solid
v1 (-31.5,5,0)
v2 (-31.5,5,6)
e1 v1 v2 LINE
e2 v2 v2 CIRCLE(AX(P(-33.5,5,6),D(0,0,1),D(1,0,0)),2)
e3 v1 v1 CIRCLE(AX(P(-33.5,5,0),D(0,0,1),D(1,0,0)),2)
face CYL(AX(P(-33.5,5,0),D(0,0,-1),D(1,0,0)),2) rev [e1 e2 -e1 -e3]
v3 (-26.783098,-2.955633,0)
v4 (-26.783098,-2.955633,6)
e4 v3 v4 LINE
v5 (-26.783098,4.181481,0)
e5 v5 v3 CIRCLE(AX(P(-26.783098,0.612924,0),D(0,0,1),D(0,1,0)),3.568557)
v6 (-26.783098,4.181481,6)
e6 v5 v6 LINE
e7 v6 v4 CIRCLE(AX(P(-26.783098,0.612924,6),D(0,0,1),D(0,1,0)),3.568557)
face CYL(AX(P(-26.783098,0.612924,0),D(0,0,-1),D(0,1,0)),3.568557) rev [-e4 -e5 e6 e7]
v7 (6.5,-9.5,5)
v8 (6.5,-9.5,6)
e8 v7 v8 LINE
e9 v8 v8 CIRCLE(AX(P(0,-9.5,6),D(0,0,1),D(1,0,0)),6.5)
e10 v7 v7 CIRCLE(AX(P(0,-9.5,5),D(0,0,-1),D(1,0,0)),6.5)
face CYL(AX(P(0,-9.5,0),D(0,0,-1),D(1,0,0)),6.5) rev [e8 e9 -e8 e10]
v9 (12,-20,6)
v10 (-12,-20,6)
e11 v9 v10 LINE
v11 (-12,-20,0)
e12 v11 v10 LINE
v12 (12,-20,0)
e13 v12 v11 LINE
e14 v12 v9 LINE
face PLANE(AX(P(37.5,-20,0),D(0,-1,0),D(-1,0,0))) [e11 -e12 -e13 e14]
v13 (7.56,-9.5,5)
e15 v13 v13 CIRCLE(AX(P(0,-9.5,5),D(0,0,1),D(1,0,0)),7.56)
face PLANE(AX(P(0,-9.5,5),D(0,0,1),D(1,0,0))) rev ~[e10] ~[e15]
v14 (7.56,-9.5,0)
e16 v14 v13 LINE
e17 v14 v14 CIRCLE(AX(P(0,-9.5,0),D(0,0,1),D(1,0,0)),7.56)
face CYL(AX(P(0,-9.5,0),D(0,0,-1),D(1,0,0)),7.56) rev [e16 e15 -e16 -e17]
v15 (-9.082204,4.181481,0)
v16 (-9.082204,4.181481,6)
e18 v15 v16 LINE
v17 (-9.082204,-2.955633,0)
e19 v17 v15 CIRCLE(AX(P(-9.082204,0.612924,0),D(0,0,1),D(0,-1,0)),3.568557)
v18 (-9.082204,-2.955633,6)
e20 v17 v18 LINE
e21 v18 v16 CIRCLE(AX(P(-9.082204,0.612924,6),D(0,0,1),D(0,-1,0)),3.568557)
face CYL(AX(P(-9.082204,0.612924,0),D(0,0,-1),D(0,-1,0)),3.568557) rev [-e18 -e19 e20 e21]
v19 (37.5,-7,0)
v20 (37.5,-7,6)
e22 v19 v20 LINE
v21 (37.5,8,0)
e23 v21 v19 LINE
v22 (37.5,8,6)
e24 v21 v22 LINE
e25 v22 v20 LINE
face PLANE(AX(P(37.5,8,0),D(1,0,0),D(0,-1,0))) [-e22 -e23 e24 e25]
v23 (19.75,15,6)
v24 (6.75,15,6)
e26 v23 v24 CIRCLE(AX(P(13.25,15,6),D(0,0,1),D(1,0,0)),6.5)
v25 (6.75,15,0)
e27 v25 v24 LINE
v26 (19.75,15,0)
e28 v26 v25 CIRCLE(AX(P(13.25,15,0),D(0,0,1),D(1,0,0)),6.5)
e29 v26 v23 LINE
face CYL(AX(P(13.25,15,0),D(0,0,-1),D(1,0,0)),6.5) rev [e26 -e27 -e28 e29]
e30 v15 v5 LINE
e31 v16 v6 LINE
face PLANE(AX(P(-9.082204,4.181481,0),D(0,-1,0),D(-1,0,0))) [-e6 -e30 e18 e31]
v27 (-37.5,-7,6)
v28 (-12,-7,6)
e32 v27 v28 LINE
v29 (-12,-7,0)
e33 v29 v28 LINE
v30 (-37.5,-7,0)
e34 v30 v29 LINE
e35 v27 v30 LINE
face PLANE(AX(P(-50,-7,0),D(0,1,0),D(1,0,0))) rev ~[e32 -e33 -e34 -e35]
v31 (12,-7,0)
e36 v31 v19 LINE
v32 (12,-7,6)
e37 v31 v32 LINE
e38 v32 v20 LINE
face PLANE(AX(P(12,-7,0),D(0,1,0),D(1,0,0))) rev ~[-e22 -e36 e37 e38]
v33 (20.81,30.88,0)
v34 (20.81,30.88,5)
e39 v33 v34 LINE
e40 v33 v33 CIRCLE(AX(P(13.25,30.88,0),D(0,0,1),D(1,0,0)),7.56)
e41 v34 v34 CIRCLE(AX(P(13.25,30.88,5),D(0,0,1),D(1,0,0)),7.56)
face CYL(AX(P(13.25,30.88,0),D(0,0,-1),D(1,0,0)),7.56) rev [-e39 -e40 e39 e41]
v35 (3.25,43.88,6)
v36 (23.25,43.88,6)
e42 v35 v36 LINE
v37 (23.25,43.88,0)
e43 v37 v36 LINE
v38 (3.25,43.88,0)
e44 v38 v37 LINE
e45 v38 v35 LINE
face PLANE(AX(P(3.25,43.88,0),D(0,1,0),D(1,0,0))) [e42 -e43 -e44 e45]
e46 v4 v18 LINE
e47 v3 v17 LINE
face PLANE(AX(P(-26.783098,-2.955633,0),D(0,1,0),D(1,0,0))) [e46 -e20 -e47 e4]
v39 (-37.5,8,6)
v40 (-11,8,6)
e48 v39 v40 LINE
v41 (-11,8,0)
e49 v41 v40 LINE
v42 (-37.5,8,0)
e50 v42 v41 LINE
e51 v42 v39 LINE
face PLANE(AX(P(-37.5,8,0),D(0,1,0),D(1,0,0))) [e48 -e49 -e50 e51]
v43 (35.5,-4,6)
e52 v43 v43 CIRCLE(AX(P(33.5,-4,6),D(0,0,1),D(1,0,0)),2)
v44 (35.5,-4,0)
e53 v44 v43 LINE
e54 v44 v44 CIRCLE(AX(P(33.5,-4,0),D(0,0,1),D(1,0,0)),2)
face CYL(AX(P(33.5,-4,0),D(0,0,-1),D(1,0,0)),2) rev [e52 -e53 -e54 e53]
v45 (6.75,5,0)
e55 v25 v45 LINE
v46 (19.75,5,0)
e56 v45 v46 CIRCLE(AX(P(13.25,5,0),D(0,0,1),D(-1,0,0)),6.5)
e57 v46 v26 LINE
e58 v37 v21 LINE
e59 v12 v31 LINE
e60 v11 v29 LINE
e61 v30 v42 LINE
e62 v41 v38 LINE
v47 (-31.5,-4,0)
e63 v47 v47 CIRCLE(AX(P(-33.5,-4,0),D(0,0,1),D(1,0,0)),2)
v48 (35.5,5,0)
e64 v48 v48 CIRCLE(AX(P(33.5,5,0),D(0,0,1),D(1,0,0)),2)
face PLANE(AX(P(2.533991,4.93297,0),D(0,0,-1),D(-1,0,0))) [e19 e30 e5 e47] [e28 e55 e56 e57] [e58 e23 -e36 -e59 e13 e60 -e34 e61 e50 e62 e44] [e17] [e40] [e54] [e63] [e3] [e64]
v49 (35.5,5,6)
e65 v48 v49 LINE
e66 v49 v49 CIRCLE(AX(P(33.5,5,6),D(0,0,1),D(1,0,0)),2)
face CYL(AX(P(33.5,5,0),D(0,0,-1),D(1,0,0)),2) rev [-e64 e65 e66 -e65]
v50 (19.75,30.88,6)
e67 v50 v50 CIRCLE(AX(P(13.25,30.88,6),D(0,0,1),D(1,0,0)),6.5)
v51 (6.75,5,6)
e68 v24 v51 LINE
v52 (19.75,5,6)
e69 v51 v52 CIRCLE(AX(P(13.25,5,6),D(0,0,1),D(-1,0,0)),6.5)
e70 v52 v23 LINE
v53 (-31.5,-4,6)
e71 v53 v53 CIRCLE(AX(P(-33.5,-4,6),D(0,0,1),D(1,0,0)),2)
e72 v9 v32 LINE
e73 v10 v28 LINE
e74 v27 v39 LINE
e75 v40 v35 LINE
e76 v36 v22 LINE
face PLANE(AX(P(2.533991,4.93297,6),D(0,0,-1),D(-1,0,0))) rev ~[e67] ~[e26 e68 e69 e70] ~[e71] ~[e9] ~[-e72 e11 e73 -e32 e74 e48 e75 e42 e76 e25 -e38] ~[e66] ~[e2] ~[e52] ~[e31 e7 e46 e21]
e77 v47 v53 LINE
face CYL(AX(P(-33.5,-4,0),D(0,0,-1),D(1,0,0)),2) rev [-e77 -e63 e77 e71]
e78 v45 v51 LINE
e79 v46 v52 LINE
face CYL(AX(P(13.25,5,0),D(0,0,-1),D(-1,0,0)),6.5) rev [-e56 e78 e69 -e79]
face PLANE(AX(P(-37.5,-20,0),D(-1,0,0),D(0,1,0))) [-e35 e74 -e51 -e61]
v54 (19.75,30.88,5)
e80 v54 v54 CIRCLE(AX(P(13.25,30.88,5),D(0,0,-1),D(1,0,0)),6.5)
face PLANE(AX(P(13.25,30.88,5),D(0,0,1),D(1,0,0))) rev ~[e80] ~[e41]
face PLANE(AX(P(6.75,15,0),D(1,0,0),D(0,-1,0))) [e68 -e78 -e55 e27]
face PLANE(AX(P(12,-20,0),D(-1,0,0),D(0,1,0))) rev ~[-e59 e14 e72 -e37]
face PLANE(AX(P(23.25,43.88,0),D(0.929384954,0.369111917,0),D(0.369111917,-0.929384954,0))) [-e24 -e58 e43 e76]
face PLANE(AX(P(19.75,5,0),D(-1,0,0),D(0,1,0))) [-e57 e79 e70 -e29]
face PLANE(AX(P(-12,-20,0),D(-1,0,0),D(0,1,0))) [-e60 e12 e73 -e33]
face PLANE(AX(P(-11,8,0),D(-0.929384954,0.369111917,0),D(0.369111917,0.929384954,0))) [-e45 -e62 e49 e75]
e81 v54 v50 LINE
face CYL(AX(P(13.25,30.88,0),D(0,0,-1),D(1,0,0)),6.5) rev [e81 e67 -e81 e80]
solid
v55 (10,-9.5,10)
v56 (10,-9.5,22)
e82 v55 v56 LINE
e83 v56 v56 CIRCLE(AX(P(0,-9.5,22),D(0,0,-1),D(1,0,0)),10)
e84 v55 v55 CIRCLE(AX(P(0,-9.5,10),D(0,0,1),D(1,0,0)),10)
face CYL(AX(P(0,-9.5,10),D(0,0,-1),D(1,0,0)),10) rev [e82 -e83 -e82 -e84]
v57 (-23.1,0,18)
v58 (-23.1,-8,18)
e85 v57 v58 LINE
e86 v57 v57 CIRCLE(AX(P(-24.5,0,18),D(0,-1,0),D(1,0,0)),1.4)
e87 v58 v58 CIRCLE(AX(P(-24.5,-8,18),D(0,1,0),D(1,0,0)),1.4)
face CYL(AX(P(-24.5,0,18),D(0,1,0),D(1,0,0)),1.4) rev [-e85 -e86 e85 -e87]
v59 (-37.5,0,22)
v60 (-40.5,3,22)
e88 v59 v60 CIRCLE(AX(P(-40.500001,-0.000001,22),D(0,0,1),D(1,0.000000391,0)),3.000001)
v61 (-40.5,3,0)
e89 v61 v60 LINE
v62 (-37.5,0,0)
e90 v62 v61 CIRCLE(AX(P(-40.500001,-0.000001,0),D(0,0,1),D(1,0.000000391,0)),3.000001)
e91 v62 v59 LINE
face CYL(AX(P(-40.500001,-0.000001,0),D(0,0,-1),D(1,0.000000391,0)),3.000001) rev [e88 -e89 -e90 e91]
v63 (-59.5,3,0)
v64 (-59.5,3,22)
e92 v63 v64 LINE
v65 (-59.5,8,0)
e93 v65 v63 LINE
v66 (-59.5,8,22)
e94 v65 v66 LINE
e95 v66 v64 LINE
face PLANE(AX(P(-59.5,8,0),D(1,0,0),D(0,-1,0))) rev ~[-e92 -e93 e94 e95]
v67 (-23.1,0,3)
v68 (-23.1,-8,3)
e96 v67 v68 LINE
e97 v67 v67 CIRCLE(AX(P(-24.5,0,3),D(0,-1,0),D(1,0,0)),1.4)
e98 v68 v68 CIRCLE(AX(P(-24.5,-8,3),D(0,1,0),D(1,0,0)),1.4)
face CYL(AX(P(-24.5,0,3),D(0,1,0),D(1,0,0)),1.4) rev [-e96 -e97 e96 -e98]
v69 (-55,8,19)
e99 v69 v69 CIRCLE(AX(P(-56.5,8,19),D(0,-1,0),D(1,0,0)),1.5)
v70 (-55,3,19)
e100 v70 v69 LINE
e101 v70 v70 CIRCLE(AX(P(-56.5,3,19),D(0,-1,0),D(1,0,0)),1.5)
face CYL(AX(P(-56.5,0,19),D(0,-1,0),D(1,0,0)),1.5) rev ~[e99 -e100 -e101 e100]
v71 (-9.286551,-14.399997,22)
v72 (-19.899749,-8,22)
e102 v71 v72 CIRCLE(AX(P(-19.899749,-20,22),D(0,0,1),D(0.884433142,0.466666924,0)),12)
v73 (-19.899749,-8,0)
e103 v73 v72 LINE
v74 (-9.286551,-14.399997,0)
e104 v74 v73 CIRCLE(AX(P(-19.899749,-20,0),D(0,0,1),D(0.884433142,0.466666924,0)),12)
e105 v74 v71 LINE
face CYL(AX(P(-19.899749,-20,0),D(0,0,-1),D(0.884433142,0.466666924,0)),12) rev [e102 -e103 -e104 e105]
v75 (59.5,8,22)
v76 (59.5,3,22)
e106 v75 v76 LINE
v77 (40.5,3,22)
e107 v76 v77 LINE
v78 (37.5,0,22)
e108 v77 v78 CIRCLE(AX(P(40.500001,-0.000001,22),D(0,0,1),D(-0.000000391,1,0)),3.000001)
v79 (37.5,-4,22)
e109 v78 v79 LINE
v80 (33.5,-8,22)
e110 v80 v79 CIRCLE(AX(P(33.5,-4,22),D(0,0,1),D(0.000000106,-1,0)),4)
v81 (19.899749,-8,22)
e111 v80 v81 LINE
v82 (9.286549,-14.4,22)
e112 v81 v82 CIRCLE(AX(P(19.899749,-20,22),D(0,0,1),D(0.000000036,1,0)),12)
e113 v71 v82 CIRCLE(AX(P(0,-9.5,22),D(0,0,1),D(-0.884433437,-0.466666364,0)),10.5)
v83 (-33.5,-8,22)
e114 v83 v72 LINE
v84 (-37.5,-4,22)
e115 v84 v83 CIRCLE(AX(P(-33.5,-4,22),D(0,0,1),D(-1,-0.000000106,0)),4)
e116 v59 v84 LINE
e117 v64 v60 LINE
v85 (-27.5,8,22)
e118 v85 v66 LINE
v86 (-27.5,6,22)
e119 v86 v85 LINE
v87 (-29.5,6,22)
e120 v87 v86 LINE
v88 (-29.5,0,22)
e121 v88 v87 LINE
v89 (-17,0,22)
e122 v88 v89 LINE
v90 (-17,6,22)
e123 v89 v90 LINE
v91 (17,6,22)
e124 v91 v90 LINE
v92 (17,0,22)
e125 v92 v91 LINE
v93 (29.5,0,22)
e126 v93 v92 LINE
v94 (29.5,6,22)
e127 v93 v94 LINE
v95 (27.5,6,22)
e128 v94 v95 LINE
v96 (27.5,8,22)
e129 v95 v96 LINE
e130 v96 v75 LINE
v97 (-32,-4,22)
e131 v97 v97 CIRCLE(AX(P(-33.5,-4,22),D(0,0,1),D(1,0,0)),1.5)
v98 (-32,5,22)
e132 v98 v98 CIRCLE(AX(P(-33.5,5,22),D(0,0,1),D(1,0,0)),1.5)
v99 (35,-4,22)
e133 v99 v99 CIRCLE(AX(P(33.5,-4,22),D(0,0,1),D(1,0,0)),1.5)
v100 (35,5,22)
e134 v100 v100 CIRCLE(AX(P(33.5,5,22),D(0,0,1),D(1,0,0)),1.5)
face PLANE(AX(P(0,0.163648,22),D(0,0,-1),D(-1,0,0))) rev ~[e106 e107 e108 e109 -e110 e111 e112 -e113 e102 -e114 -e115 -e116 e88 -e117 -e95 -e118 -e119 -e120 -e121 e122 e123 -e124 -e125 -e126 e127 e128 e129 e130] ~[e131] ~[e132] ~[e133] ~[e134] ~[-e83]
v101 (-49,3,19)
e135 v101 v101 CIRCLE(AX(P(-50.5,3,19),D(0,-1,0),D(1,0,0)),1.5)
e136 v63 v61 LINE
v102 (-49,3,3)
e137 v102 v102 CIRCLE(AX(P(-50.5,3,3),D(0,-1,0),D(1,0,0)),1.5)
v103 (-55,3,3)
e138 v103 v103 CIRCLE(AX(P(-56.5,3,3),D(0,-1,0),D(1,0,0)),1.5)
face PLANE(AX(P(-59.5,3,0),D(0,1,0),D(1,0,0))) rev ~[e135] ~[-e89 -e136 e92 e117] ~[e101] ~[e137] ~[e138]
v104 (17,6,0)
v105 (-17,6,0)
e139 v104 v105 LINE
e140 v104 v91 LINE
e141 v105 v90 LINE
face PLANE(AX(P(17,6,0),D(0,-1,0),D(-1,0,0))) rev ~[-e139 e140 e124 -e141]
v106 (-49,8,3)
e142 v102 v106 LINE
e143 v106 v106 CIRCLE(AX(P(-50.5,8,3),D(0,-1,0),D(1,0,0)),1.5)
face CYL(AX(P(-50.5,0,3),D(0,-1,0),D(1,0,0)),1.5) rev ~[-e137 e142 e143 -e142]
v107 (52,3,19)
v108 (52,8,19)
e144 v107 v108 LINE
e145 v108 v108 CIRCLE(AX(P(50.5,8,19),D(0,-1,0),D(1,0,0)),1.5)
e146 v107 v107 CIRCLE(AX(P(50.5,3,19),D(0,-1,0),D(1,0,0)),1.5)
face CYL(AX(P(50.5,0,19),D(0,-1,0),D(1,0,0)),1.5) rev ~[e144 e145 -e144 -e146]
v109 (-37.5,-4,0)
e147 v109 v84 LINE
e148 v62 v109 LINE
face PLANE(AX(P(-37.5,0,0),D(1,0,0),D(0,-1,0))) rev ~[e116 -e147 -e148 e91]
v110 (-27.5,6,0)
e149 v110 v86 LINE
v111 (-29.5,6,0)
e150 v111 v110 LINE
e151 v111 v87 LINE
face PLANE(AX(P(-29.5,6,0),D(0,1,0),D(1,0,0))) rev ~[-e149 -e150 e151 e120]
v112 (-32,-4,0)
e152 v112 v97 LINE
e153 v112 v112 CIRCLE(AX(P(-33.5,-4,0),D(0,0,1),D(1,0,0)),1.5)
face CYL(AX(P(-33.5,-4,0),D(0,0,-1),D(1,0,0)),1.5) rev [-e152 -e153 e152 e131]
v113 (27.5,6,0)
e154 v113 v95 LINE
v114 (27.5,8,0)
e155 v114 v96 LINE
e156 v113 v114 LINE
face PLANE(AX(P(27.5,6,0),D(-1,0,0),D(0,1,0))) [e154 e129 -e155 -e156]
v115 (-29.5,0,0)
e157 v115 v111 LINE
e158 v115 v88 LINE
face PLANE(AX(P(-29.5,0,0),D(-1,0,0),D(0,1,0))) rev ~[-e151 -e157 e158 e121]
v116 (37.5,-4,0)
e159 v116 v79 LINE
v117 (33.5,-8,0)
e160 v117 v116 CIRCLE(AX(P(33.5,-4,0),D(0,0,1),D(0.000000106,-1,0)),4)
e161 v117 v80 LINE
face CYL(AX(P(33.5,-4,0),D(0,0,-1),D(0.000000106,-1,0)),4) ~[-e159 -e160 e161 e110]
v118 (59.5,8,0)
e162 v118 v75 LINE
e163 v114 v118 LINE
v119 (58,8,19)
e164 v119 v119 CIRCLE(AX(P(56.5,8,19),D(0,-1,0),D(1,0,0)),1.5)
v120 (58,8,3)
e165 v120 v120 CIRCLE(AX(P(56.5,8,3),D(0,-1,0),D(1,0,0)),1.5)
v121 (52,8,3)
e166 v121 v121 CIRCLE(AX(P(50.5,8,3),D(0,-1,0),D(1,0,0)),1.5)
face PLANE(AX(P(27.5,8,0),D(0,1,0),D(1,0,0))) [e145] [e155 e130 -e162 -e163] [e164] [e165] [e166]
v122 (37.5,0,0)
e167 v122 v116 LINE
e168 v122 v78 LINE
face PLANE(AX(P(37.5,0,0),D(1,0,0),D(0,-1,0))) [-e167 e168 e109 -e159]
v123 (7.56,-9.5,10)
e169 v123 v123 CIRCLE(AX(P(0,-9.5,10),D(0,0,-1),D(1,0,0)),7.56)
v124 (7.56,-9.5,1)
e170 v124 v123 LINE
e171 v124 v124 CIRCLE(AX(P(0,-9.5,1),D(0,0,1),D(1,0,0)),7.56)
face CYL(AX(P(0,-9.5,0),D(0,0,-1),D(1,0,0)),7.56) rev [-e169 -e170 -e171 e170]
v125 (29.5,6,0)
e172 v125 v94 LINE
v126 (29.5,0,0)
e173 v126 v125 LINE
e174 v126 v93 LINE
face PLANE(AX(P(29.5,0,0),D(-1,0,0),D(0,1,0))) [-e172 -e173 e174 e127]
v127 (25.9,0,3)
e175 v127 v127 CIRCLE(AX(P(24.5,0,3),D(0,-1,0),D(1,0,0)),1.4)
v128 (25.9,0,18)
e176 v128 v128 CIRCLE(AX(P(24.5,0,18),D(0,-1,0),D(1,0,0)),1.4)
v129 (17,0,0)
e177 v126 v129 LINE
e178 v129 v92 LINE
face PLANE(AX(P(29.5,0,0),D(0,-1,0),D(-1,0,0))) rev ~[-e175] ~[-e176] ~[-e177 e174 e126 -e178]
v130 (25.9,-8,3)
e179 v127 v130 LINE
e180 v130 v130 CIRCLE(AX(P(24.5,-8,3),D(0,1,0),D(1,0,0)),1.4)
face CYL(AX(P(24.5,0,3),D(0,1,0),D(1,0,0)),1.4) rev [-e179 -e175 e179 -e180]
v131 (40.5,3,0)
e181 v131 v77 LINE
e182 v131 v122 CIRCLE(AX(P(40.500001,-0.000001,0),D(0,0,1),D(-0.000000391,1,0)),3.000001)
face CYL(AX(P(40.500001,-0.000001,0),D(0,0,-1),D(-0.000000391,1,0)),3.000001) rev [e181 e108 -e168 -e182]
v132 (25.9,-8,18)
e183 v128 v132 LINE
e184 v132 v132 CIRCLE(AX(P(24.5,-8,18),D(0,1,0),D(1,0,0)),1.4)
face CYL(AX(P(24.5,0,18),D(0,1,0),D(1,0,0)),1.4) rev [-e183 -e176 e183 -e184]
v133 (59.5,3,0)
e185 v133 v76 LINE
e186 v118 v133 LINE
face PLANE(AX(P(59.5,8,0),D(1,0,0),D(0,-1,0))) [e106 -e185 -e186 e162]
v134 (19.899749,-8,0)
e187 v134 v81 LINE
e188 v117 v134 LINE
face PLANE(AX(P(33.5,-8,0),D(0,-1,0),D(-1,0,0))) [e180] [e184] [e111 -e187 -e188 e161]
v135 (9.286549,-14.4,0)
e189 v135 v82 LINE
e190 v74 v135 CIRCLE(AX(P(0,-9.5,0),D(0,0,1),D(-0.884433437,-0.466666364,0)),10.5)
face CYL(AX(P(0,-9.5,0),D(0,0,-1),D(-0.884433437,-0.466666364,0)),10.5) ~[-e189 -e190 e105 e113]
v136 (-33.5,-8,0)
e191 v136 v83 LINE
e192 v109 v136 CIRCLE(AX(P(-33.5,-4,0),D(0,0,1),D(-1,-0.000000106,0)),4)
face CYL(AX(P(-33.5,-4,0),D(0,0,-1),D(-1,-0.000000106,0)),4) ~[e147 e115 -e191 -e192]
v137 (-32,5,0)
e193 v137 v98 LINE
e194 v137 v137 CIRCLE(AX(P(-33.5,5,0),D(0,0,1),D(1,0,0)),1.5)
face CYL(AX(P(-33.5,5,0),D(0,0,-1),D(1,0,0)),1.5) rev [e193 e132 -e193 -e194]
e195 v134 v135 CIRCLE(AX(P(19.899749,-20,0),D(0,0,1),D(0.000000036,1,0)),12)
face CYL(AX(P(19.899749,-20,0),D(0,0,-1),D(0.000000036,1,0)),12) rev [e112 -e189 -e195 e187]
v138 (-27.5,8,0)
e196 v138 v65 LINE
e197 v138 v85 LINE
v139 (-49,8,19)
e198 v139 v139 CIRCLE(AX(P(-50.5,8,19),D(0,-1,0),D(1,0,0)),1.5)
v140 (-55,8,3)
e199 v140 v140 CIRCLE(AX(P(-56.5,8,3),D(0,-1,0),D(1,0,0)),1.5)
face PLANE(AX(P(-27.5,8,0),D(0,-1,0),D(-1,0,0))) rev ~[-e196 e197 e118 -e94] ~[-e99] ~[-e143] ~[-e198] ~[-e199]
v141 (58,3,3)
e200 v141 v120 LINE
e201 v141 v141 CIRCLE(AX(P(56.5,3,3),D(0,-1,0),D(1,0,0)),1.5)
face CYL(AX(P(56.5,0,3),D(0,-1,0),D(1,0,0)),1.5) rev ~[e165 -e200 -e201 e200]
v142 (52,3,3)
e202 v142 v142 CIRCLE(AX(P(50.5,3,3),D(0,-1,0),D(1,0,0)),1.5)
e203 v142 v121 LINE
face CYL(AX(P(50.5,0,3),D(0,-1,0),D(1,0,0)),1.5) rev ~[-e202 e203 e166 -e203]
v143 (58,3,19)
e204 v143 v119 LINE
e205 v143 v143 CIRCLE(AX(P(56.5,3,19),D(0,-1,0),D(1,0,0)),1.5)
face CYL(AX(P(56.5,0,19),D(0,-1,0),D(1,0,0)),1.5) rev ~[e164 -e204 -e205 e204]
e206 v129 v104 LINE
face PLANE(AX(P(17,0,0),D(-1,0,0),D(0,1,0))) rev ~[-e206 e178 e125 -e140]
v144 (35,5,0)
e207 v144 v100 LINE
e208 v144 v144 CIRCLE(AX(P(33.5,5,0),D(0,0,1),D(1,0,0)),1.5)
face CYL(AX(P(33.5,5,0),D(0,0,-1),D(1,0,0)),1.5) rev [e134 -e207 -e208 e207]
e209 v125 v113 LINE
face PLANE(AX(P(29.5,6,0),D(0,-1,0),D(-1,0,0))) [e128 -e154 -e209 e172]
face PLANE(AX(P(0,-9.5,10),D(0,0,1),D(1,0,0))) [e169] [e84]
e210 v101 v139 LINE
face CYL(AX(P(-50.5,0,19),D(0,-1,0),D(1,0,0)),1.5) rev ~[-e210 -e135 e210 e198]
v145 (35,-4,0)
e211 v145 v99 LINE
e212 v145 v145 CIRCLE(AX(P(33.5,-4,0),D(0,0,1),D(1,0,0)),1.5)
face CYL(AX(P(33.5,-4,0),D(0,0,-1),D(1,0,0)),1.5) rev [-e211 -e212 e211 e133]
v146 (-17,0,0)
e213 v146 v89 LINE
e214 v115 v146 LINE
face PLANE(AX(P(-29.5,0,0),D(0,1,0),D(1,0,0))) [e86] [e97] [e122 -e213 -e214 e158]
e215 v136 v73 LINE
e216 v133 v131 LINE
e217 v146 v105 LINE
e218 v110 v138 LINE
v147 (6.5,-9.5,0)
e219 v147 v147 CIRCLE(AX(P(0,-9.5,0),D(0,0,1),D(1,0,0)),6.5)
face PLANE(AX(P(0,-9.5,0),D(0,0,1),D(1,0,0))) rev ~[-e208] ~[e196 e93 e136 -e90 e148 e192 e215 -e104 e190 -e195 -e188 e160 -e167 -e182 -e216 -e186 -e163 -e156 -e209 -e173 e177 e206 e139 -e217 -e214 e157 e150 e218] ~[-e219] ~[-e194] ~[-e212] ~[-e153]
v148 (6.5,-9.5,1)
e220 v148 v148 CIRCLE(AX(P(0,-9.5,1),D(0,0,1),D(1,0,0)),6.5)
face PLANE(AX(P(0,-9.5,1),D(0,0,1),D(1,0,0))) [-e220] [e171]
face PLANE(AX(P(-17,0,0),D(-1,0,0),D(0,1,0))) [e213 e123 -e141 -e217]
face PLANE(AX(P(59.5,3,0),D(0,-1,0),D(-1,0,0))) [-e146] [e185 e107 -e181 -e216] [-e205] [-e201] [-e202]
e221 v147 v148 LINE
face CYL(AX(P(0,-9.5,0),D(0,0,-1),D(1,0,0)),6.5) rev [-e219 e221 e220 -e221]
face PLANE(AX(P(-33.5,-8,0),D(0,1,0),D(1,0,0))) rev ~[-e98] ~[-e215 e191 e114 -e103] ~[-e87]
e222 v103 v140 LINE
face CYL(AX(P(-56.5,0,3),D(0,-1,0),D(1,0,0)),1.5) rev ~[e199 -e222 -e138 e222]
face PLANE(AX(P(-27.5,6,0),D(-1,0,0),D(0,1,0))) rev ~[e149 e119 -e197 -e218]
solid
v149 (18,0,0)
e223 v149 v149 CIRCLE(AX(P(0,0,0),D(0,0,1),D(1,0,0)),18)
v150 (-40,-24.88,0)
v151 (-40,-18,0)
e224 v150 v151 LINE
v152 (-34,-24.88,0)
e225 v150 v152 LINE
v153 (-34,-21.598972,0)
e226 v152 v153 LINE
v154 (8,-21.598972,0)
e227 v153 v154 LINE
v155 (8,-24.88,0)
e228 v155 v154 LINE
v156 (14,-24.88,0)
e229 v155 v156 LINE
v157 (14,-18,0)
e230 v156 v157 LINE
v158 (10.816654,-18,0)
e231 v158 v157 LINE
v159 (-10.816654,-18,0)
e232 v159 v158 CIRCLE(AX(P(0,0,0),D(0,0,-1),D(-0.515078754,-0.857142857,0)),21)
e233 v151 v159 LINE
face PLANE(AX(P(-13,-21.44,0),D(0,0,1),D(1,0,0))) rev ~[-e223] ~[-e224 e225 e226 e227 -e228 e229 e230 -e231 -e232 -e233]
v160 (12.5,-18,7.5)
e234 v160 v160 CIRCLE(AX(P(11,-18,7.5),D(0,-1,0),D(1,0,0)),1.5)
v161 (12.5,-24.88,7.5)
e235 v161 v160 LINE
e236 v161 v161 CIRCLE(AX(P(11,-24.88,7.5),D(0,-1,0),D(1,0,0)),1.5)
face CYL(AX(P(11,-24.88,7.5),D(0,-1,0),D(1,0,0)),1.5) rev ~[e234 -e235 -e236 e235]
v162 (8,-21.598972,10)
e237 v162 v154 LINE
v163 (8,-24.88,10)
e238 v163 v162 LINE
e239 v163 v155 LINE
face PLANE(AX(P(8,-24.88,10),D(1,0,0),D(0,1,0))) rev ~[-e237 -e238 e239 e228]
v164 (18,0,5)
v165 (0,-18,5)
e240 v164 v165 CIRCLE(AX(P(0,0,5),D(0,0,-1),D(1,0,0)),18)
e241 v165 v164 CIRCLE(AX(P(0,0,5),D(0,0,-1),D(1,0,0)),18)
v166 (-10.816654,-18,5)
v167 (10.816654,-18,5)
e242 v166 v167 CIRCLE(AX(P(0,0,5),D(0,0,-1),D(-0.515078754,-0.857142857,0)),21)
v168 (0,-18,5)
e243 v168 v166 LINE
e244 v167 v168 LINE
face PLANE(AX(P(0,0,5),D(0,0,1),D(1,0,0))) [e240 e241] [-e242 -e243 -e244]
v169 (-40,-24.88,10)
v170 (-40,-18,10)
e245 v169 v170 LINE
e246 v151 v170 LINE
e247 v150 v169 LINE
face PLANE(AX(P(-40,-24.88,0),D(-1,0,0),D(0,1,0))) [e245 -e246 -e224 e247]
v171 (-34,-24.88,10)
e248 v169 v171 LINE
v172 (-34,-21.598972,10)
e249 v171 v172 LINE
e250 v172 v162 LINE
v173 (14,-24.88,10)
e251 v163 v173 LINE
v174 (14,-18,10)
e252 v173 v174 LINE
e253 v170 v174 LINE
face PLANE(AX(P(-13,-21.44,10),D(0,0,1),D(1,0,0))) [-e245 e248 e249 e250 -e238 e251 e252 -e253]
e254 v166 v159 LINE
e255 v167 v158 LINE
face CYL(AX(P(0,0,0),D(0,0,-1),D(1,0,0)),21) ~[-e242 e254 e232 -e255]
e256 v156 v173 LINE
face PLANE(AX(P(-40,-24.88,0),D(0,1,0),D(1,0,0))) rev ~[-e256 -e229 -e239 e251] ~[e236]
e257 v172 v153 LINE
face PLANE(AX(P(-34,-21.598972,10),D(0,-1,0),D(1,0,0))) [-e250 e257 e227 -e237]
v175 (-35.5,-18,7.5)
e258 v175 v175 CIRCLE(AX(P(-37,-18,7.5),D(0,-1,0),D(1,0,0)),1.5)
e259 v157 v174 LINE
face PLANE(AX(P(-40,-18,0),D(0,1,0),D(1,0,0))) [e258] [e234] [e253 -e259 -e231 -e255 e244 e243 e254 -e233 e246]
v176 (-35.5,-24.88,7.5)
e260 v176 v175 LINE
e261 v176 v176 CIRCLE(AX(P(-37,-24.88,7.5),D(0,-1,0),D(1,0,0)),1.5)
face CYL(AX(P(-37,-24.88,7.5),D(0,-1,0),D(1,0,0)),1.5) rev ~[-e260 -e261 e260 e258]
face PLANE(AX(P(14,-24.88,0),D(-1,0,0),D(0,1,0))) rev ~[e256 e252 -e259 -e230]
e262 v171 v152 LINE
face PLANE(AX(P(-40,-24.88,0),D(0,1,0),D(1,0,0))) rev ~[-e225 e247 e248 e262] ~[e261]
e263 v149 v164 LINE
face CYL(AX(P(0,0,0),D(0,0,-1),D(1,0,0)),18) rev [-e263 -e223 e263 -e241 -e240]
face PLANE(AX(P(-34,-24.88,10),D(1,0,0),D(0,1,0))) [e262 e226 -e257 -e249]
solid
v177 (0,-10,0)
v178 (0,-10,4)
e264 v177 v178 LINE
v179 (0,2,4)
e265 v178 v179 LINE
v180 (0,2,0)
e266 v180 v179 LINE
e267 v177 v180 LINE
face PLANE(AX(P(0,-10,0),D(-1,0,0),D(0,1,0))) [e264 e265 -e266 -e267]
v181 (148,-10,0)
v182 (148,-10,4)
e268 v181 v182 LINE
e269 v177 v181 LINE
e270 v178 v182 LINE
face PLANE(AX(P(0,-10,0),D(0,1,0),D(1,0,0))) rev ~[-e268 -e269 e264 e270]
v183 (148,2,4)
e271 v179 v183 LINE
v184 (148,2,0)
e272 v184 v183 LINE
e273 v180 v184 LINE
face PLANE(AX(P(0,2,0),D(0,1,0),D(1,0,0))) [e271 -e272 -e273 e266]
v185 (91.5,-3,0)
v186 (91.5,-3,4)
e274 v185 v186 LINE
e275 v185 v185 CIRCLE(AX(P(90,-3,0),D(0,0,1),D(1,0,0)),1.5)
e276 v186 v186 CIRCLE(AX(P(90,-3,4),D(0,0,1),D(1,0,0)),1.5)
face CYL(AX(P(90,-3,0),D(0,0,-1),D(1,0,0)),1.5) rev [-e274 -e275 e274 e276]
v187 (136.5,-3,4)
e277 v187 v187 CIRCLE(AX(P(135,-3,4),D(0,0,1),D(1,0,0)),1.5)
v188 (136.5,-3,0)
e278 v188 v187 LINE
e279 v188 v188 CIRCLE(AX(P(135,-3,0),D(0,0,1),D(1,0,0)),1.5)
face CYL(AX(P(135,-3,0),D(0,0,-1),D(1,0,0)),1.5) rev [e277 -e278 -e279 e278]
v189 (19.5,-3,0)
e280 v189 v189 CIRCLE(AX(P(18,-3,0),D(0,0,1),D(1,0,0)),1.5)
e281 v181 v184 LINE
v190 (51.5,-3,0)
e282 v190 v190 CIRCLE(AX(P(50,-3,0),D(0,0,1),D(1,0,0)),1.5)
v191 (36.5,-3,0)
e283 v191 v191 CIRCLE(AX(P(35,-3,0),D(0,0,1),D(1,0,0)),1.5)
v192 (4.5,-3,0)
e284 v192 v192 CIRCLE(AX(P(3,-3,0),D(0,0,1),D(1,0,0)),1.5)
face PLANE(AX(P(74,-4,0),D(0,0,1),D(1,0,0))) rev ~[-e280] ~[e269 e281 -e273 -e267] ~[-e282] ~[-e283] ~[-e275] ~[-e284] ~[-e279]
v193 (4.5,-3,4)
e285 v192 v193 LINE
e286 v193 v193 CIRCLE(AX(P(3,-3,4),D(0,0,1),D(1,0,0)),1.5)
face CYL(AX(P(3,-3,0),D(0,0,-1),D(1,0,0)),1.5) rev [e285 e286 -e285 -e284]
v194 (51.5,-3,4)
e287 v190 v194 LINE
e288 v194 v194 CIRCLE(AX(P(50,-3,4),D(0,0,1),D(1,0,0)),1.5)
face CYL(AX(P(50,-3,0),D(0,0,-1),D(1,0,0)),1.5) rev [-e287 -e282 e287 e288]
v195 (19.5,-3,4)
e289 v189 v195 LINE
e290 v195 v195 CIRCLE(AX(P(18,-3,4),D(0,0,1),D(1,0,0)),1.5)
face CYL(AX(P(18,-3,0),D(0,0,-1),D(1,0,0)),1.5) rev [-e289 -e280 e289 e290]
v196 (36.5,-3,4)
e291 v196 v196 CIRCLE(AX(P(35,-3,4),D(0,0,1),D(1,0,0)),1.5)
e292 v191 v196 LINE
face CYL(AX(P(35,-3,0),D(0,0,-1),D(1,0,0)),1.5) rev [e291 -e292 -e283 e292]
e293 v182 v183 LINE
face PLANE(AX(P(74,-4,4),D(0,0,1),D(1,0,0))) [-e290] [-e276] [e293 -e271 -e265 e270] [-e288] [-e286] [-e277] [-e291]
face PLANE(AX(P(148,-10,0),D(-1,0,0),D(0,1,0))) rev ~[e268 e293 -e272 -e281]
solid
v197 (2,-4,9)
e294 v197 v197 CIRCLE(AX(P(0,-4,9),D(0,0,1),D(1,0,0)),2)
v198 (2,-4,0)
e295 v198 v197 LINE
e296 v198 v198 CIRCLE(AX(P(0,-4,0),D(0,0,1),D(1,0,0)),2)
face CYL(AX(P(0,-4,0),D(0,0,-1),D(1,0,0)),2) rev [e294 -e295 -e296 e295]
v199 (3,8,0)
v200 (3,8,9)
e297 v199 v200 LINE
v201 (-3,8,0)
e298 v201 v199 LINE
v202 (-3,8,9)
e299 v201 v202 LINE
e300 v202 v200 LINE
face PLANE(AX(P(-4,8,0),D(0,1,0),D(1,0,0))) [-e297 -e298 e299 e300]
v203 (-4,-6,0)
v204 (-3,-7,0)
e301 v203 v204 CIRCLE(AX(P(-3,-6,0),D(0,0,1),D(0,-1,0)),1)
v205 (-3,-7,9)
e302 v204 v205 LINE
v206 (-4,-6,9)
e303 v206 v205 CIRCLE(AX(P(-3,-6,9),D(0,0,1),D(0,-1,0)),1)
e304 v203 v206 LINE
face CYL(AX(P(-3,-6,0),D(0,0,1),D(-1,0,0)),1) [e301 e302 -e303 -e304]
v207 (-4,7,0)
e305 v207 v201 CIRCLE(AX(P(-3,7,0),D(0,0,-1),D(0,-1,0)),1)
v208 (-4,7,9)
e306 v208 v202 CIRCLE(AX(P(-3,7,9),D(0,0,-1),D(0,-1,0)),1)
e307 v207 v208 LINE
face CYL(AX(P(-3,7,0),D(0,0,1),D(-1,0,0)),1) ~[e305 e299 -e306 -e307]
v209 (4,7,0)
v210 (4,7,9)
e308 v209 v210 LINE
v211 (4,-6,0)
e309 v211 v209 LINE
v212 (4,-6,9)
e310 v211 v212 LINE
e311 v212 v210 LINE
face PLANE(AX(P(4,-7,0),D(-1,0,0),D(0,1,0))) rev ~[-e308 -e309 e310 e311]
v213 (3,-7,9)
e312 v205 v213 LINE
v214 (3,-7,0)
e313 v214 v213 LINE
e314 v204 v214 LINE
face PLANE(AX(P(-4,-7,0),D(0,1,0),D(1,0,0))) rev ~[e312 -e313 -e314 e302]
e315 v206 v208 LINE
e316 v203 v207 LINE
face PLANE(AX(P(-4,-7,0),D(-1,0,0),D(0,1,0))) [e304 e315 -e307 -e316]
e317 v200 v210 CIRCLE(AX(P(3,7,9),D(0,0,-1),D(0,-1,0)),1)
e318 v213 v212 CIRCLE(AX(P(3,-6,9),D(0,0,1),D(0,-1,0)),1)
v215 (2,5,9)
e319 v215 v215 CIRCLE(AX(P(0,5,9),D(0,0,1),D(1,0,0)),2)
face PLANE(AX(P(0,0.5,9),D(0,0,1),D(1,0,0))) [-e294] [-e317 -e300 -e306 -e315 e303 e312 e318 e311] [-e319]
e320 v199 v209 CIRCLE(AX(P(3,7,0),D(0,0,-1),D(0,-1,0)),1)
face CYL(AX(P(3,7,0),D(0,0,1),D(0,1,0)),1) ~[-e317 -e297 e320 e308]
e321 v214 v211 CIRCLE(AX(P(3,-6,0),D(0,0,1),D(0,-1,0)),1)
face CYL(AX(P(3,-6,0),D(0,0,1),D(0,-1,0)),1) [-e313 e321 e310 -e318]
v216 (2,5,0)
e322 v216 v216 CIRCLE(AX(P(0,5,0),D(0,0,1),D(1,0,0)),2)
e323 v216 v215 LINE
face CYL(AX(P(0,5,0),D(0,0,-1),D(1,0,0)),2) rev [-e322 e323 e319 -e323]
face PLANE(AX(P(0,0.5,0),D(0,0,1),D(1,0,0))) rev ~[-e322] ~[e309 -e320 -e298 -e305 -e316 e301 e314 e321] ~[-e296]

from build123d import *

# Parameters (mm, degrees)
SKETCH_R             = 21
SKETCH_R_2           = 1.5
PAD_DEPTH            = 5
SKETCH001_R          = 18
POCKET_DEPTH         = 5
SKETCH002_W          = 54
SKETCH002_H          = 6.88
PAD001_DEPTH         = 10
SKETCH003_W          = 42
SKETCH003_H          = 3.281028
POCKET001_DEPTH      = 10
SKETCH004_R          = 1.5
POCKET002_DEPTH      = 45.881
SKETCH006_R          = 18
POCKET003_DEPTH      = 5
SKETCH005_W          = 148
SKETCH005_H          = 12
SKETCH005_R          = 1.5
PAD002_DEPTH         = 4
SKETCH015_R          = 6.5
SKETCH015_R_2        = 2
PAD004_DEPTH         = 6
SKETCH016_W          = 38
SKETCH016_H          = 13
POCKET012_DEPTH      = 6.001
SKETCH017_R          = 7.56
POCKET013_DEPTH      = 5
SKETCH018_W          = 8
SKETCH018_H          = 15
SKETCH018_R          = 2
PAD005_DEPTH         = 9
FILLET001_R          = 1
SKETCH007_R          = 1.5
PAD003_DEPTH         = 22
SKETCH008_R          = 7.56
POCKET004_DEPTH      = 4.5
SKETCH009_R          = 6.5
POCKET005_DEPTH      = 22.001
SKETCH013_R          = 10
POCKET009_DEPTH      = 12.001
SKETCH011_R          = 1.4
POCKET010_DEPTH      = 20
SKETCH022_R          = 1.5
POCKET016_DEPTH      = 8.001
POCKET016_DEPTH_BACK = 20.001
SKETCH020_R          = 7.56
POCKET015_DEPTH      = 22.001
SKETCH021_R          = 7.56
SKETCH021_R_2        = 6.5
PAD006_DEPTH         = 1


with BuildPart() as bodyolddcmotorcap:
    # Sketch → Pad (new body)
    with BuildSketch(Plane.XY):
        Circle(SKETCH_R)
        with Locations((12.5, 0)):
            Circle(SKETCH_R_2, mode=Mode.SUBTRACT)
        with Locations((-12.5, 0)):
            Circle(SKETCH_R_2, mode=Mode.SUBTRACT)
        with BuildLine():
            ThreePointArc((-12.196311, -4.5), (0, -13), (12.196311, -4.5))
            Line((5.361903, -4.5), (12.196311, -4.5))
            ThreePointArc((5.361903, -4.5), (7, 0), (5.361903, 4.5))
            Line((5.361903, 4.5), (12.196311, 4.5))
            ThreePointArc((12.196311, 4.5), (0, 13), (-12.196311, 4.5))
            Line((-12.196311, 4.5), (-5.361903, 4.5))
            ThreePointArc((-5.361903, 4.5), (-7, 0), (-5.361903, -4.5))
            Line((-5.361903, -4.5), (-12.196311, -4.5))
        make_face(mode=Mode.SUBTRACT)
    extrude(amount=PAD_DEPTH)

    # Sketch001 → Pocket (cut)
    with BuildSketch(Plane.XY.offset(2)):
        Circle(SKETCH001_R)
    extrude(amount=POCKET_DEPTH, mode=Mode.SUBTRACT)

    # Sketch002 → Pad001 (join)
    with BuildSketch(Plane.XY):
        with Locations((-13, -21.44)):
            Rectangle(SKETCH002_W, SKETCH002_H)
    extrude(amount=PAD001_DEPTH)

    # Sketch003 (on Face19 of Pad001) → Pocket001 (cut)
    with BuildSketch(Plane.XY.offset(10)):
        with Locations((-13, -23.239486)):
            Rectangle(SKETCH003_W, SKETCH003_H)
    extrude(amount=-POCKET001_DEPTH, mode=Mode.SUBTRACT)

    # Sketch004 (on Face28 of Pocket001) → Pocket002 (cut, through all)
    with BuildSketch(Plane.XZ.offset(24.88)):
        with Locations((-37, 7.5)):
            Circle(SKETCH004_R)
        with Locations((11, 7.5)):
            Circle(SKETCH004_R)
    extrude(amount=-POCKET002_DEPTH, mode=Mode.SUBTRACT)

    # Sketch006 → Pocket003 (cut)
    with BuildSketch(Plane.XY):
        Circle(SKETCH006_R)
    extrude(amount=POCKET003_DEPTH, mode=Mode.SUBTRACT)


with BuildPart() as connrodtop:
    # Sketch005 → Pad002 (new body)
    with BuildSketch(Plane.XY):
        with Locations((74, -4)):
            Rectangle(SKETCH005_W, SKETCH005_H)
        with Locations((3, -3)):
            Circle(SKETCH005_R, mode=Mode.SUBTRACT)
        with Locations((35, -3)):
            Circle(SKETCH005_R, mode=Mode.SUBTRACT)
        with Locations((50, -3)):
            Circle(SKETCH005_R, mode=Mode.SUBTRACT)
        with Locations((90, -3)):
            Circle(SKETCH005_R, mode=Mode.SUBTRACT)
        with Locations((18, -3)):
            Circle(SKETCH005_R, mode=Mode.SUBTRACT)
        with Locations((135, -3)):
            Circle(SKETCH005_R, mode=Mode.SUBTRACT)
    extrude(amount=PAD002_DEPTH)


with BuildPart() as body003:
    # Sketch015 → Pad004 (new body)
    with BuildSketch(Plane.XY):
        Polygon((37.5, 8), (37.5, -20), (-37.5, -20), (-37.5, 8), (-11, 8), (3.25, 43.88), (23.25, 43.88), align=None)
        with Locations((0, -9.5)):
            Circle(SKETCH015_R, mode=Mode.SUBTRACT)
        with Locations((-33.5, 5)):
            Circle(SKETCH015_R_2, mode=Mode.SUBTRACT)
        with Locations((-33.5, -4)):
            Circle(SKETCH015_R_2, mode=Mode.SUBTRACT)
        with Locations((33.5, 5)):
            Circle(SKETCH015_R_2, mode=Mode.SUBTRACT)
        with Locations((33.5, -4)):
            Circle(SKETCH015_R_2, mode=Mode.SUBTRACT)
        with Locations((13.25, 30.88)):
            Circle(SKETCH015_R, mode=Mode.SUBTRACT)
        with BuildLine():
            ThreePointArc((19.75, 15), (13.25, 21.5), (6.75, 15))
            Line((6.75, 15), (6.75, 5))
            ThreePointArc((6.75, 5), (13.25, -1.5), (19.75, 5))
            Line((19.75, 5), (19.75, 15))
        make_face(mode=Mode.SUBTRACT)
        with BuildLine():
            ThreePointArc((-26.783098, 4.181481), (-30.351655, 0.612924), (-26.783098, -2.955633))
            Line((-26.783098, -2.955633), (-9.082204, -2.955633))
            ThreePointArc((-9.082204, -2.955633), (-5.513647, 0.612924), (-9.082204, 4.181481))
            Line((-9.082204, 4.181481), (-26.783098, 4.181481))
        make_face(mode=Mode.SUBTRACT)
    extrude(amount=PAD004_DEPTH)

    # Sketch016 → Pocket012 (cut, through all)
    with BuildSketch(Plane.XY):
        with Locations((-31, -13.5)):
            Rectangle(SKETCH016_W, SKETCH016_H)
        with Locations((31, -13.5)):
            Rectangle(SKETCH016_W, SKETCH016_H)
    extrude(amount=POCKET012_DEPTH, mode=Mode.SUBTRACT)

    # Sketch017 → Pocket013 (cut)
    with BuildSketch(Plane.XY):
        with Locations((13.25, 30.88)):
            Circle(SKETCH017_R)
        with Locations((0, -9.5)):
            Circle(SKETCH017_R)
    extrude(amount=POCKET013_DEPTH, mode=Mode.SUBTRACT)


with BuildPart() as body004connector:
    # Sketch018 → Pad005 (new body)
    with BuildSketch(Plane.XY):
        with Locations((0, 0.5)):
            Rectangle(SKETCH018_W, SKETCH018_H)
        with Locations((0, 5)):
            Circle(SKETCH018_R, mode=Mode.SUBTRACT)
        with Locations((0, -4)):
            Circle(SKETCH018_R, mode=Mode.SUBTRACT)
    extrude(amount=PAD005_DEPTH)

    # Fillet001
    fillet001_edges = [body004connector.edges().sort_by_distance(p)[0] for p in [
        (4, 8, 4.5),
        (4, -7, 4.5),
        (-4, 8, 4.5),
        (-4, -7, 4.5),
    ]]
    fillet(fillet001_edges, radius=FILLET001_R)


with BuildPart() as body006bottomsupportleft:
    # Sketch007 → Pad003 (new body)
    with BuildSketch(Plane.XY):
        with BuildLine():
            Line((29.5, 0), (29.5, 6))
            Line((29.5, 6), (27.5, 6))
            Line((27.5, 6), (27.5, 8))
            Line((27.5, 8), (37.5, 8))
            Line((37.5, 8), (59.5, 8))
            Line((59.5, 8), (59.5, 3))
            Line((59.5, 3), (40.5, 3))
            ThreePointArc((40.5, 3), (38.37868, 2.12132), (37.5, 0))
            Line((37.5, 0), (37.5, -4))
            ThreePointArc((33.5, -8), (36.328427, -6.828427), (37.5, -4))
            Line((33.5, -8), (19.899749, -8))
            ThreePointArc((19.899749, -8), (13.702975, -9.723814), (9.286549, -14.4))
            ThreePointArc((-9.286551, -14.399997), (-2e-06, -20), (9.286549, -14.4))
            ThreePointArc((-9.286551, -14.399997), (-13.702977, -9.723813), (-19.899749, -8))
            Line((-33.5, -8), (-19.899749, -8))
            ThreePointArc((-37.5, -4), (-36.328427, -6.828427), (-33.5, -8))
            Line((-37.5, 0), (-37.5, -4))
            ThreePointArc((-37.5, 0), (-38.37868, 2.12132), (-40.5, 3))
            Line((-59.5, 3), (-40.5, 3))
            Line((-59.5, 8), (-59.5, 3))
            Line((-37.5, 8), (-59.5, 8))
            Line((-27.5, 8), (-37.5, 8))
            Line((-27.5, 6), (-27.5, 8))
            Line((-29.5, 6), (-27.5, 6))
            Line((-29.5, 0), (-29.5, 6))
            Line((-29.5, 0), (-17, 0))
            Line((-17, 0), (-17, 6))
            Line((17, 6), (-17, 6))
            Line((17, 0), (17, 6))
            Line((29.5, 0), (17, 0))
        make_face()
        with Locations((-33.5, 5)):
            Circle(SKETCH007_R, mode=Mode.SUBTRACT)
        with Locations((-33.5, -4)):
            Circle(SKETCH007_R, mode=Mode.SUBTRACT)
        with Locations((33.5, -4)):
            Circle(SKETCH007_R, mode=Mode.SUBTRACT)
        with Locations((33.5, 5)):
            Circle(SKETCH007_R, mode=Mode.SUBTRACT)
    extrude(amount=PAD003_DEPTH)

    # Sketch008 → Pocket004 (cut)
    with BuildSketch(Plane.XY):
        with Locations((0, -9.5)):
            Circle(SKETCH008_R)
    extrude(amount=POCKET004_DEPTH, mode=Mode.SUBTRACT)

    # Sketch009 → Pocket005 (cut, through all)
    with BuildSketch(Plane.XY):
        with Locations((0, -9.5)):
            Circle(SKETCH009_R)
    extrude(amount=POCKET005_DEPTH, mode=Mode.SUBTRACT)

    # Sketch013 → Pocket009 (cut, through all)
    with BuildSketch(Plane.XY.offset(10)):
        with Locations((0, -9.5)):
            Circle(SKETCH013_R)
    extrude(amount=POCKET009_DEPTH, mode=Mode.SUBTRACT)

    # Sketch011 → Pocket010 (cut)
    with BuildSketch(Plane.XZ):
        with Locations((-24.5, 18)):
            Circle(SKETCH011_R)
        with Locations((24.5, 18)):
            Circle(SKETCH011_R)
        with Locations((-24.5, 3)):
            Circle(SKETCH011_R)
        with Locations((24.5, 3)):
            Circle(SKETCH011_R)
    extrude(amount=POCKET010_DEPTH, mode=Mode.SUBTRACT)

    # Sketch022 → Pocket016 (cut, two sides)
    with BuildSketch(Plane.XZ) as pocket016_sk:
        with Locations((-56.5, 19)):
            Circle(SKETCH022_R)
        with Locations((-50.5, 19)):
            Circle(SKETCH022_R)
        with Locations((-56.5, 3)):
            Circle(SKETCH022_R)
        with Locations((-50.5, 3)):
            Circle(SKETCH022_R)
        with Locations((50.5, 19)):
            Circle(SKETCH022_R)
        with Locations((56.5, 19)):
            Circle(SKETCH022_R)
        with Locations((50.5, 3)):
            Circle(SKETCH022_R)
        with Locations((56.5, 3)):
            Circle(SKETCH022_R)
    extrude(amount=-POCKET016_DEPTH, mode=Mode.SUBTRACT)
    extrude(pocket016_sk.sketch, amount=POCKET016_DEPTH_BACK, mode=Mode.SUBTRACT)

    # Sketch020 → Pocket015 (cut, through all)
    with BuildSketch(Plane.XY):
        with Locations((0, -9.5)):
            Circle(SKETCH020_R)
    extrude(amount=POCKET015_DEPTH, mode=Mode.SUBTRACT)

    # Sketch021 → Pad006 (join)
    with BuildSketch(Plane.XY):
        with Locations((0, -9.5)):
            Circle(SKETCH021_R)
        with Locations((0, -9.5)):
            Circle(SKETCH021_R_2, mode=Mode.SUBTRACT)
    extrude(amount=PAD006_DEPTH)


solid = Compound([bodyolddcmotorcap.part, connrodtop.part, body003.part, body004connector.part, body006bottomsupportleft.part])
